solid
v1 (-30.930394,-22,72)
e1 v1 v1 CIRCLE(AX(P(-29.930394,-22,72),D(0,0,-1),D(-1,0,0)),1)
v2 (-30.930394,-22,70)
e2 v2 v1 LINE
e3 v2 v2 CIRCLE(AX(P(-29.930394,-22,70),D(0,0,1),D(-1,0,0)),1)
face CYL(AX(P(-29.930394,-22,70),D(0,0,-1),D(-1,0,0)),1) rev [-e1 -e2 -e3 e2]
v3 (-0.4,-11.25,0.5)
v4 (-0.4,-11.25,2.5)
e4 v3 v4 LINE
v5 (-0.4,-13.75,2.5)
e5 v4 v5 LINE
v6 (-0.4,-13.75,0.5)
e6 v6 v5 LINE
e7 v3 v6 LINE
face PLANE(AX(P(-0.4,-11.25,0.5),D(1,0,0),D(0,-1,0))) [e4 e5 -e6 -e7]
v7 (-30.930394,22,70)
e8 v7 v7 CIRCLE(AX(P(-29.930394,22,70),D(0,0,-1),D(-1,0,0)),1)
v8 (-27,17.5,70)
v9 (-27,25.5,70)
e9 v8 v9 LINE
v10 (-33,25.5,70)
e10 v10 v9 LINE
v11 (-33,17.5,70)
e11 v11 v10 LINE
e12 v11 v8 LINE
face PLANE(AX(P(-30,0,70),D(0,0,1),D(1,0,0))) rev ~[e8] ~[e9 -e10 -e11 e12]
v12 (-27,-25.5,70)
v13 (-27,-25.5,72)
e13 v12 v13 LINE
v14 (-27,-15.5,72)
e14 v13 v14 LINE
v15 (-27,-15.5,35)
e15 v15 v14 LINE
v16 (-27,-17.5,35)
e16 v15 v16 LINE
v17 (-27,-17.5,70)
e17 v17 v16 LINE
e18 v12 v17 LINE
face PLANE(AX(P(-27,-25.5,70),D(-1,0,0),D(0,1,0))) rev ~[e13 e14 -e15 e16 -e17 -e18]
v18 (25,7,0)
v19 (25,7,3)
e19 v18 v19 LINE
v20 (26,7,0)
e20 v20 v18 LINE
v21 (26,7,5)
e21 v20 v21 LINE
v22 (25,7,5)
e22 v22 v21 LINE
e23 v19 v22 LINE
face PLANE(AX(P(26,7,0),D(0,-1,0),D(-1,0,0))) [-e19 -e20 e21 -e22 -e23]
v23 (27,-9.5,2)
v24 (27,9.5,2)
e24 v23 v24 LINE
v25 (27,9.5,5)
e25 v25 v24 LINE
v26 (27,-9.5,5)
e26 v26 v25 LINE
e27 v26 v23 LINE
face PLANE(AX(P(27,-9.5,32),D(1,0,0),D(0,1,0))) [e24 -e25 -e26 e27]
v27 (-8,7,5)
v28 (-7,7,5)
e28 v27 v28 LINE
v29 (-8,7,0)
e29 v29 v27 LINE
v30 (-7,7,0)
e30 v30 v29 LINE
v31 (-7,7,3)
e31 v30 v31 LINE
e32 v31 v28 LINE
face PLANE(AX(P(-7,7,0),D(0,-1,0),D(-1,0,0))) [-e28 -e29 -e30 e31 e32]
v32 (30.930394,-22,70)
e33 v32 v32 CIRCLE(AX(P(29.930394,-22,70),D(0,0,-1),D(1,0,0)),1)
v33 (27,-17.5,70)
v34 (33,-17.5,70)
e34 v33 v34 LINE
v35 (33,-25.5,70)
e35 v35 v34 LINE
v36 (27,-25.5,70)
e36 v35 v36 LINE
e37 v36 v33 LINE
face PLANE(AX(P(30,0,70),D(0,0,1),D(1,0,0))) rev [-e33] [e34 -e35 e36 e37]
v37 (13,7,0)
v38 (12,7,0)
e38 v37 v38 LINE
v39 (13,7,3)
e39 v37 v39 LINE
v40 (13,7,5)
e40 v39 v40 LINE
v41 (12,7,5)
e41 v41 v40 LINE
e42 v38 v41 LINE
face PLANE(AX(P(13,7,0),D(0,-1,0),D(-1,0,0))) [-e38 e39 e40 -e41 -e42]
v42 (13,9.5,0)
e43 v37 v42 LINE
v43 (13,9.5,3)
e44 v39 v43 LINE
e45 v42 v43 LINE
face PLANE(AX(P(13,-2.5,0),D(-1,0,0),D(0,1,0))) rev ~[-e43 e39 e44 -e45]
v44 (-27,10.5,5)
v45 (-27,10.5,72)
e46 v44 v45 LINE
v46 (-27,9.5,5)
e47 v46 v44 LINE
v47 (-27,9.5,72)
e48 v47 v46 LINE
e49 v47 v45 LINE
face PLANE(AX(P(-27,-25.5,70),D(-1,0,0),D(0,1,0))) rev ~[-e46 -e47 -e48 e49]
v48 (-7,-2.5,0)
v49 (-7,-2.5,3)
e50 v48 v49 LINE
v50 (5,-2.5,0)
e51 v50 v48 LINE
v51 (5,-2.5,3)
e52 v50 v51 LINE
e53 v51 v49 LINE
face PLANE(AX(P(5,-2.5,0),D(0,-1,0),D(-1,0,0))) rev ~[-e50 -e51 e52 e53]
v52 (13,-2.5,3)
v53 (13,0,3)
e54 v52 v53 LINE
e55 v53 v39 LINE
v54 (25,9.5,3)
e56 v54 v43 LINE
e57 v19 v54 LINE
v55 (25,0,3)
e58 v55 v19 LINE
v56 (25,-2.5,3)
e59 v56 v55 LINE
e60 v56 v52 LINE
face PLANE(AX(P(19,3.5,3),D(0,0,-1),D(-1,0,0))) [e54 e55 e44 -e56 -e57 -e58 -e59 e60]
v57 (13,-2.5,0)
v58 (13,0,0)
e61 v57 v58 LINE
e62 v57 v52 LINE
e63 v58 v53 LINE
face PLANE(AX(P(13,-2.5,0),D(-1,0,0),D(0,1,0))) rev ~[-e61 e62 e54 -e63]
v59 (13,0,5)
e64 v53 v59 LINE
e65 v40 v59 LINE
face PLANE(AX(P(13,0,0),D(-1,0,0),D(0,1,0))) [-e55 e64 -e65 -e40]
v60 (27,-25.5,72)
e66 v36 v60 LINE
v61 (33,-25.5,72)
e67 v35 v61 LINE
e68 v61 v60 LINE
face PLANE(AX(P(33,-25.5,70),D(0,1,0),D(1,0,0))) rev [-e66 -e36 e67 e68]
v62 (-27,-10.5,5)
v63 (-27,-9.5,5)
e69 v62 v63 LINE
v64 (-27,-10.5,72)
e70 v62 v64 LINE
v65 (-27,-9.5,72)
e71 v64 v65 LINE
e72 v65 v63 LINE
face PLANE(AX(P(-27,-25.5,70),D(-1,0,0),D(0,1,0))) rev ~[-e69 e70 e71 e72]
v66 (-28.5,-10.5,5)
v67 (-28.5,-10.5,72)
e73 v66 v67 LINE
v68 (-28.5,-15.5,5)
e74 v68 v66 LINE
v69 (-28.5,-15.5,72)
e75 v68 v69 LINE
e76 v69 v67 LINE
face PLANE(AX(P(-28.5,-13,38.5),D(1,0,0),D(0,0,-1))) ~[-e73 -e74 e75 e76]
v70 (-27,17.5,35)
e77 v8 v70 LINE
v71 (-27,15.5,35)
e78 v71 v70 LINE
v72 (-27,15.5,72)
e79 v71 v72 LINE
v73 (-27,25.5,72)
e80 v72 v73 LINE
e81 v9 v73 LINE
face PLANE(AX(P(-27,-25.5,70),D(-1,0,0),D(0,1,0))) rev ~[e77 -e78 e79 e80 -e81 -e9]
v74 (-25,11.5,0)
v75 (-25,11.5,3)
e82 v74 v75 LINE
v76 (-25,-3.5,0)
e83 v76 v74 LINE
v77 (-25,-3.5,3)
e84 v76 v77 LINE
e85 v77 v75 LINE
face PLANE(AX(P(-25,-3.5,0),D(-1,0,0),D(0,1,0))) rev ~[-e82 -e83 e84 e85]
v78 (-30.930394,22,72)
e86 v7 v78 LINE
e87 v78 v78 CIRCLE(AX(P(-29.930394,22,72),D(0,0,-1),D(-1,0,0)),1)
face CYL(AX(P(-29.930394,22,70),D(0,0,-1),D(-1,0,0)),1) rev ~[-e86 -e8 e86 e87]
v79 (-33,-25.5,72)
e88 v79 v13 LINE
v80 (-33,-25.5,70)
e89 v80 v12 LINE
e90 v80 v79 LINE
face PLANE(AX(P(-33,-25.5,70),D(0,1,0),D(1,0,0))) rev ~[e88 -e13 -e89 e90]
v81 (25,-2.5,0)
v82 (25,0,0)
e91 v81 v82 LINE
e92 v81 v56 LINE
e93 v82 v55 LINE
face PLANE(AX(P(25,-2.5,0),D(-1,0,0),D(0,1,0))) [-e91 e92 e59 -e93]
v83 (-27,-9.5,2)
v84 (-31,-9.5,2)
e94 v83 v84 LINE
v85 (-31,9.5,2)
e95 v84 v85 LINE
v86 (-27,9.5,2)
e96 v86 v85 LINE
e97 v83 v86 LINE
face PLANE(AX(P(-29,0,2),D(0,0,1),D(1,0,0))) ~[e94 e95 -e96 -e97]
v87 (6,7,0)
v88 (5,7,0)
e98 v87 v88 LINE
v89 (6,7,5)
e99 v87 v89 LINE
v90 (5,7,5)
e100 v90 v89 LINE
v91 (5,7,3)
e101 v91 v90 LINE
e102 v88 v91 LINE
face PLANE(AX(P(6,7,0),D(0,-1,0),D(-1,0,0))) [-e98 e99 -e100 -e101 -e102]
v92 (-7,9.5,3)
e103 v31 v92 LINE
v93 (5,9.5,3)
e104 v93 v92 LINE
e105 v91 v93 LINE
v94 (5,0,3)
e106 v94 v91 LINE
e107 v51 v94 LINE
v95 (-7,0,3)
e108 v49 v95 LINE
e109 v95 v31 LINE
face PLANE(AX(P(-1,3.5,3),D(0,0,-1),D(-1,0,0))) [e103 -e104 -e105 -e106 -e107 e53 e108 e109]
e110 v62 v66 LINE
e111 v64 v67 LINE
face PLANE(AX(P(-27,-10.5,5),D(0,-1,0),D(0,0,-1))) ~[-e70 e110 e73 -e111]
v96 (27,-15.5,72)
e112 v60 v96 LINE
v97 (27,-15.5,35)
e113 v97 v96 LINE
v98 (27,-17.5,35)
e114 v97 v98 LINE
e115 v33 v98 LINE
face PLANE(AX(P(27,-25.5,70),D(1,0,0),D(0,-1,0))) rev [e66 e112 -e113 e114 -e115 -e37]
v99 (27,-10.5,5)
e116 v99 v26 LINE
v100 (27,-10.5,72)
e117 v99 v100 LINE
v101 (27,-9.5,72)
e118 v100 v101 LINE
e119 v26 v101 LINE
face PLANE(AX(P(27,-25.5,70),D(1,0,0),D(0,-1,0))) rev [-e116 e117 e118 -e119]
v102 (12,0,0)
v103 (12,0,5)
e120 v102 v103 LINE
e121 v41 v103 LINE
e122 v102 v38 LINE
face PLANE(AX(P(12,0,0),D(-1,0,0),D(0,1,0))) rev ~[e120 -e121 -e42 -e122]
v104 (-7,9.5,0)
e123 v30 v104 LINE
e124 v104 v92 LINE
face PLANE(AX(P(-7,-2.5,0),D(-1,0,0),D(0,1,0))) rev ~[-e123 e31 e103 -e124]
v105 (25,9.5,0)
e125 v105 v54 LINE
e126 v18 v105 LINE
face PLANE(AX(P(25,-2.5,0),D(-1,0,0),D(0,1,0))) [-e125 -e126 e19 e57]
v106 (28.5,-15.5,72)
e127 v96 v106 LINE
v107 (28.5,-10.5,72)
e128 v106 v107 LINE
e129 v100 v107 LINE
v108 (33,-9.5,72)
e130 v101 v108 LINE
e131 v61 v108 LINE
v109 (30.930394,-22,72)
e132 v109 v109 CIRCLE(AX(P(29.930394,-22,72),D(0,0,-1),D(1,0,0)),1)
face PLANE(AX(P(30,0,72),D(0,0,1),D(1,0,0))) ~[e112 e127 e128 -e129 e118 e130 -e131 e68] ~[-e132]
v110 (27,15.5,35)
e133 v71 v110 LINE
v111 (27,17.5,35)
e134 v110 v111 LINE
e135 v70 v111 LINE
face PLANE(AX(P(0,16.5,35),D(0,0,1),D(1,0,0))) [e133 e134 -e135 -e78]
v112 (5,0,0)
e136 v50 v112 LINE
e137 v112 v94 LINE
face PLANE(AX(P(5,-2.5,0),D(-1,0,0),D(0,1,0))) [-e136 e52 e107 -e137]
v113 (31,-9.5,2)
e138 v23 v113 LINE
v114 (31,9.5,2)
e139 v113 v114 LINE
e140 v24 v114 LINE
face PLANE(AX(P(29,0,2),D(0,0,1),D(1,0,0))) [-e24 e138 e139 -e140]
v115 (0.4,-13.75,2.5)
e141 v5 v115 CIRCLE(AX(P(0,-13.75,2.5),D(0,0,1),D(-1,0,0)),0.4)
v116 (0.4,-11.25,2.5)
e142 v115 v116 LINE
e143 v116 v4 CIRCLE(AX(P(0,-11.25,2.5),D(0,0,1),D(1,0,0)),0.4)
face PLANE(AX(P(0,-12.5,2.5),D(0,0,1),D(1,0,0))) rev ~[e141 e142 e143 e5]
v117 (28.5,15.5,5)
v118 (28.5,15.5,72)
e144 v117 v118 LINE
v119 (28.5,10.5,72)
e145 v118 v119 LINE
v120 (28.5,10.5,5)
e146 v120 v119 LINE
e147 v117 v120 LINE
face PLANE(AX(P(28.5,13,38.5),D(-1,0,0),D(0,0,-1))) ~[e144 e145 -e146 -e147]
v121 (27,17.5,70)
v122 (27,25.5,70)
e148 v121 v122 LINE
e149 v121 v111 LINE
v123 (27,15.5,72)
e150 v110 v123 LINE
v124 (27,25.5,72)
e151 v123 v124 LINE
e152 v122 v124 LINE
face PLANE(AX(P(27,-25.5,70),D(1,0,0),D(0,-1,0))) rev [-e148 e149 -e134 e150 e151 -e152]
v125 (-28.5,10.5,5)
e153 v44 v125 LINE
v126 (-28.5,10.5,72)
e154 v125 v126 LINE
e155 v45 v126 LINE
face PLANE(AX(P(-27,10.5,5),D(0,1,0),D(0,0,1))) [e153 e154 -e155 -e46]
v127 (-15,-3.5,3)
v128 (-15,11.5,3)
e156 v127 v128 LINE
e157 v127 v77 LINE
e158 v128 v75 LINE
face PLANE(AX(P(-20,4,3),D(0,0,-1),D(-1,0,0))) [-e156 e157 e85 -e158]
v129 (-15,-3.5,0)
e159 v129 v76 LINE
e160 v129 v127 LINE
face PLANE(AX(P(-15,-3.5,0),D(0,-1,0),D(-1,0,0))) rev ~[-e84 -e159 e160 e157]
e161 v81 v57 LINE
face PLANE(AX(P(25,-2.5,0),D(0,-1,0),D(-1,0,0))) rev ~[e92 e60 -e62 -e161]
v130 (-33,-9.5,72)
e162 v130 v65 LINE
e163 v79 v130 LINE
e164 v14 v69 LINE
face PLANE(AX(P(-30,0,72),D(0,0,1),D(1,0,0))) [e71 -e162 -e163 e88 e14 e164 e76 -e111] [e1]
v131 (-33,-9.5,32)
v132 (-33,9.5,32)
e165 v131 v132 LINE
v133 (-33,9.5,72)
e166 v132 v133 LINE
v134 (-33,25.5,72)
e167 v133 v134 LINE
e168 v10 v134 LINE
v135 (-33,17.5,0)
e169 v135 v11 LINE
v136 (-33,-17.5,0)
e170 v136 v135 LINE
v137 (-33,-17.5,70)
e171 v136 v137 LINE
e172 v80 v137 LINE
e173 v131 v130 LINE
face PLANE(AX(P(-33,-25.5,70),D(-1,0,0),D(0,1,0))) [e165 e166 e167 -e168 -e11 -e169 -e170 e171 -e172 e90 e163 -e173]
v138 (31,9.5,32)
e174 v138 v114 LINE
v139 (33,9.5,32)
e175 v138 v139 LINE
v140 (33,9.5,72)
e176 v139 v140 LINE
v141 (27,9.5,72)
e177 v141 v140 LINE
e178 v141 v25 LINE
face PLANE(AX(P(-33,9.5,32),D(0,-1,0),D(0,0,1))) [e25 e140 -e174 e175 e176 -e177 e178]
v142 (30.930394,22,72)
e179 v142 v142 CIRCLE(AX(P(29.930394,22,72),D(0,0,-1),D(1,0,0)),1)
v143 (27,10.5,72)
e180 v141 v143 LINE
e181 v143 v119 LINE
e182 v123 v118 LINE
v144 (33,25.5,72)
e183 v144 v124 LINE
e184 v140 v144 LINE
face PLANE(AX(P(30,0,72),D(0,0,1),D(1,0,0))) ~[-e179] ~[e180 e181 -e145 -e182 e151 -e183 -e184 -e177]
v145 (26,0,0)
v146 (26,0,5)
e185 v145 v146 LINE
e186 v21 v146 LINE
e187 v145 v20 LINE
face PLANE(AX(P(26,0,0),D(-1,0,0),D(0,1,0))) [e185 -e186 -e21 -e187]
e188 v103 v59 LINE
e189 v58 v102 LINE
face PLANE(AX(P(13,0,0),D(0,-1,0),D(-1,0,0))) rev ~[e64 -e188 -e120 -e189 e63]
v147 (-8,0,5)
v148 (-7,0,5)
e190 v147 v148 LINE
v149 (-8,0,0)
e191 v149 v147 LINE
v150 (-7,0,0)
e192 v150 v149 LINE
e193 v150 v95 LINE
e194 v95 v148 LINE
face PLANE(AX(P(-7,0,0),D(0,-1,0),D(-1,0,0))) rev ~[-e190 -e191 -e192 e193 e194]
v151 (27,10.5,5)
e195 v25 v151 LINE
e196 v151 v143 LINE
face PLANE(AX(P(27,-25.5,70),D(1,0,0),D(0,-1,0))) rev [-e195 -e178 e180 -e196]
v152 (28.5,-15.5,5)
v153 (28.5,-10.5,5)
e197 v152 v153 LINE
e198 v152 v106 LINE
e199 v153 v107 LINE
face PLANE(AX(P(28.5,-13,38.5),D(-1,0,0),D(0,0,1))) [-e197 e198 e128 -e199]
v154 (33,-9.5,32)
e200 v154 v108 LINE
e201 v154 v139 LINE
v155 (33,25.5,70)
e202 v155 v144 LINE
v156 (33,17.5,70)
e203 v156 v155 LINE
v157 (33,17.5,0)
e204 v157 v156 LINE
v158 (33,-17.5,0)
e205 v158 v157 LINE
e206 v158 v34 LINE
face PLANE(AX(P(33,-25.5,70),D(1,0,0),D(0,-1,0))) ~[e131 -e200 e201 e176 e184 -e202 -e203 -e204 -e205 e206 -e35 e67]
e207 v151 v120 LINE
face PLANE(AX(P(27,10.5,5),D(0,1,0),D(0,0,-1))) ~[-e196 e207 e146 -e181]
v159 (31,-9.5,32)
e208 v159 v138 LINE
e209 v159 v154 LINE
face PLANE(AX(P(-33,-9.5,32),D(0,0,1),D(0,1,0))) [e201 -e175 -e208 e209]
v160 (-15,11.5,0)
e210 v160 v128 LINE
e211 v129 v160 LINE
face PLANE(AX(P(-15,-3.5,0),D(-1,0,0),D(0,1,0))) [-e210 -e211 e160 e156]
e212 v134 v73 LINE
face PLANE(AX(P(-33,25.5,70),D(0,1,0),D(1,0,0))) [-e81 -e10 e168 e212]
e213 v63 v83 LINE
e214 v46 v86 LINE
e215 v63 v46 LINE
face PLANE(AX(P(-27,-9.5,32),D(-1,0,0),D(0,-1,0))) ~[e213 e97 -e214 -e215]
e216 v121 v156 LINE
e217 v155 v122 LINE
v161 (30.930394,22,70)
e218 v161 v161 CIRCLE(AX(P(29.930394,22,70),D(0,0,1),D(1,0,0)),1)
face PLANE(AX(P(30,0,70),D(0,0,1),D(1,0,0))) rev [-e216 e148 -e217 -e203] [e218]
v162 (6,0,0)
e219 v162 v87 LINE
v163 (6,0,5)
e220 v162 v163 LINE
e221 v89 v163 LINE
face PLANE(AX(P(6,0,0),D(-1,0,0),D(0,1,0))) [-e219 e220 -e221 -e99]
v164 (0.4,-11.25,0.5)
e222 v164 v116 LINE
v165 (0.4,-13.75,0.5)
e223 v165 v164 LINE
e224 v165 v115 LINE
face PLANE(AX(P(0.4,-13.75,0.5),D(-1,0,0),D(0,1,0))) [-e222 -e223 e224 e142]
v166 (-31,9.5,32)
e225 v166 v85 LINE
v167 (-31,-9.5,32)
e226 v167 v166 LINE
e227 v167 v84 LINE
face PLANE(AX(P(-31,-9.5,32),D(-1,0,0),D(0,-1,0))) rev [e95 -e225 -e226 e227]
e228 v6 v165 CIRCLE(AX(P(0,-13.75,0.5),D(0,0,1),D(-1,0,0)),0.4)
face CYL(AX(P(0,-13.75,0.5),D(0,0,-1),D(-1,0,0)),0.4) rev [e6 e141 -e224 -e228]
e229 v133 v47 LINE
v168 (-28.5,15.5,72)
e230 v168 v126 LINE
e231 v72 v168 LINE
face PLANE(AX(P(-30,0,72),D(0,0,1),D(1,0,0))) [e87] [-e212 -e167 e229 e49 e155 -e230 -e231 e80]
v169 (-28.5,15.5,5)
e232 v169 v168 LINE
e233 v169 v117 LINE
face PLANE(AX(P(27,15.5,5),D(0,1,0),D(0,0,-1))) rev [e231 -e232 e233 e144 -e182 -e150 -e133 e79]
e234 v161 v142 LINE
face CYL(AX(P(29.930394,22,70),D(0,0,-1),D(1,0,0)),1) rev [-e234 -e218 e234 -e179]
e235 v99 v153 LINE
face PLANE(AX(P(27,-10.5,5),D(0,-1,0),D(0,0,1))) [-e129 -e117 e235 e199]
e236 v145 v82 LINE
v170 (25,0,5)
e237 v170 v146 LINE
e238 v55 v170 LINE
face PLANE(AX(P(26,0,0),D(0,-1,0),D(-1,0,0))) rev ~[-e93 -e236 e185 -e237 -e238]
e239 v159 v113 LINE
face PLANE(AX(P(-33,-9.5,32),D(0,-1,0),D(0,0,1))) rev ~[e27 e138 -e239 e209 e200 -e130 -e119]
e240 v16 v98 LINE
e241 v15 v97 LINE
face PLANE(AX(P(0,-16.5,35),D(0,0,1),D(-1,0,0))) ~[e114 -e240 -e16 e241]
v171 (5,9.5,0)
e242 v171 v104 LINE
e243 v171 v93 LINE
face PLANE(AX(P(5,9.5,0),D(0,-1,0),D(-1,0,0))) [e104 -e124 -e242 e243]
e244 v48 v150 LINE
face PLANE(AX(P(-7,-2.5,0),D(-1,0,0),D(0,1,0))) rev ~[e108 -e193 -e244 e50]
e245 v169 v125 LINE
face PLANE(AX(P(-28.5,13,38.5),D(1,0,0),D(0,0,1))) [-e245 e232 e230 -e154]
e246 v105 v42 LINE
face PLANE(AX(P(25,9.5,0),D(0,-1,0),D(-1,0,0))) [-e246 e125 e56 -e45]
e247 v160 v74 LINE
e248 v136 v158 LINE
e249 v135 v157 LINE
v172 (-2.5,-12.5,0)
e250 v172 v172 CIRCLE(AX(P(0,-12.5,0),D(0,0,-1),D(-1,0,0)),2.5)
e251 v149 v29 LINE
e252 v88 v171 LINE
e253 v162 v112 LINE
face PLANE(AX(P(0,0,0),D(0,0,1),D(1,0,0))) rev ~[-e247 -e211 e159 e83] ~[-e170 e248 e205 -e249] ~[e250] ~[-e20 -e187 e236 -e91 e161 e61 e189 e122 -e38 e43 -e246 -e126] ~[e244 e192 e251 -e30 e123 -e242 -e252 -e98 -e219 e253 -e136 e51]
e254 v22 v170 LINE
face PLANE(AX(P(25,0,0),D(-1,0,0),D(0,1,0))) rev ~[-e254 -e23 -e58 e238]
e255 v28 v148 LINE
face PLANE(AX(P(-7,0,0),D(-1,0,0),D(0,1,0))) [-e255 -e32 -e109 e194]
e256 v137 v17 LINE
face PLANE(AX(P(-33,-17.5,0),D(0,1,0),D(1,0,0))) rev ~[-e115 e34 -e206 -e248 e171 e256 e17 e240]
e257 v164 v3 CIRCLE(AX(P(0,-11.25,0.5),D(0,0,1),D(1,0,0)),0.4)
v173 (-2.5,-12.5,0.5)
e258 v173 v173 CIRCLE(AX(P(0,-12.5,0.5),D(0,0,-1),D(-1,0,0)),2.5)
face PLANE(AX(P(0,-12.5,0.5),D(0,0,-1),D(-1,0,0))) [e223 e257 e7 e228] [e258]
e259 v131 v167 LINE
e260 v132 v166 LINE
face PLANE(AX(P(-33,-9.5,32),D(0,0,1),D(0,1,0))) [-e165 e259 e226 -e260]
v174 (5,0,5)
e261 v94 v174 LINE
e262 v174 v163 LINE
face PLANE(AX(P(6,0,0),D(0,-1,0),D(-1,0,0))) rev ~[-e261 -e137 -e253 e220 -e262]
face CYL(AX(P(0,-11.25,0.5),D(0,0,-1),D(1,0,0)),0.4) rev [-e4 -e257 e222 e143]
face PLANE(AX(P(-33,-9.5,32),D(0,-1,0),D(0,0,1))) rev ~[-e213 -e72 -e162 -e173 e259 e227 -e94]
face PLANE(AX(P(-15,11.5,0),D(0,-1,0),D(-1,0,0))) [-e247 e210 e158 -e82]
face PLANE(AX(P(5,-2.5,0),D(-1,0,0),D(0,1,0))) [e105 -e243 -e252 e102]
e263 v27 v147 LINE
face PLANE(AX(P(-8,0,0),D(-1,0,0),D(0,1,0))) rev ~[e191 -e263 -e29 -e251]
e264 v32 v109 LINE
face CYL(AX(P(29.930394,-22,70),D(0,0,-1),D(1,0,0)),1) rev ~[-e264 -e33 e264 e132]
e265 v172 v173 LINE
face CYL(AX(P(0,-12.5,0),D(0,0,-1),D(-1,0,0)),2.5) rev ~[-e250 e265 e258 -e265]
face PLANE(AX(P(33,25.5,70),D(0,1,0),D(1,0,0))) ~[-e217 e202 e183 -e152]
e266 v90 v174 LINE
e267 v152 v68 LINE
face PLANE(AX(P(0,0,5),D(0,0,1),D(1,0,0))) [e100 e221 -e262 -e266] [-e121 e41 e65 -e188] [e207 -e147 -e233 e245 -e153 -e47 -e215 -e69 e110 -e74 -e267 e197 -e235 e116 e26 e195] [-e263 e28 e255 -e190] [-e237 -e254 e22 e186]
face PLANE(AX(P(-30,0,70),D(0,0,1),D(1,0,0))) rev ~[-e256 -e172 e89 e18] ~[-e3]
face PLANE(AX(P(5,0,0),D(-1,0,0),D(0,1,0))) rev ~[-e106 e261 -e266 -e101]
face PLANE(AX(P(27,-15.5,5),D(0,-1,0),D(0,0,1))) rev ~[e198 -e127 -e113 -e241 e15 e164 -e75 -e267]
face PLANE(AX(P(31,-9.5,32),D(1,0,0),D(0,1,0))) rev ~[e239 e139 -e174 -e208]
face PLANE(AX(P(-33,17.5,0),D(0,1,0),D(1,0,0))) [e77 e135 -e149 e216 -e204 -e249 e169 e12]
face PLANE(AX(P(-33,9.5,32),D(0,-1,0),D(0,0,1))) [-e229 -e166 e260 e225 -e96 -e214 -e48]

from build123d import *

# Parameters (mm, degrees)
ESQUISSE1_W               = 66
ESQUISSE1_H               = 35
BOSS_EXTRU_1_DEPTH        = 70
ESQUISSE2_W               = 54
ESQUISSE2_H               = 35
ENL_V_MAT_EXTRU_2_DEPTH   = 65
ESQUISSE4_W               = 54
ESQUISSE4_H               = 2
BOSS_EXTRU_2_DEPTH        = 30
ESQUISSE5_W               = 6
ESQUISSE5_H               = 51
BOSS_EXTRU_3_DEPTH        = 2
ESQUISSE6_R               = 1
ENL_V_MAT_EXTRU_3_DEPTH   = 10
SYM_TRIE3_COPY_1_SKETCH_R = 1
SYM_TRIE3_COPY_1_DEPTH    = 10
ESQUISSE12_R              = 2.5
ENL_V_MAT_EXTRU_5_DEPTH   = 0.5
ENL_V_MAT_EXTRU_6_DEPTH   = 2
ESQUISSE15_W              = 12
ESQUISSE15_H              = 12
ESQUISSE15_W_2            = 10
ESQUISSE15_H_2            = 15
ENL_V_MAT_EXTRU_8_DEPTH   = 3
ESQUISSE17_W              = 40
ESQUISSE17_H              = 19
ENL_V_MAT_EXTRU_10_DEPTH  = 67
ESQUISSE18_W              = 4
ESQUISSE18_H              = 19
ENL_V_MAT_EXTRU_11_DEPTH  = 30
ESQUISSE20_W              = 67
ESQUISSE20_H              = 5
ENL_V_MAT_EXTRU_13_DEPTH  = 1.5
SYM_TRIE5_COPY_1_SKETCH_W = 67
SYM_TRIE5_COPY_1_SKETCH_H = 5
SYM_TRIE5_COPY_1_DEPTH    = 1.5
ESQUISSE22_W              = 1
ESQUISSE22_H              = 7
ENL_V_MAT_EXTRU_14_DEPTH  = 73


with BuildPart() as part:
    # Esquisse1 → Boss.-Extru.1 (new body)
    with BuildSketch(Plane.XY):
        Rectangle(ESQUISSE1_W, ESQUISSE1_H)
    extrude(amount=BOSS_EXTRU_1_DEPTH)

    # Esquisse2 → Enlèv. mat.-Extru.2 (cut)
    with BuildSketch(Plane.XY.offset(70)):
        Rectangle(ESQUISSE2_W, ESQUISSE2_H)
    extrude(amount=-ENL_V_MAT_EXTRU_2_DEPTH, mode=Mode.SUBTRACT)

    # Esquisse4 → Boss.-Extru.2 (add)
    with BuildSketch(Plane.XY.offset(5)):
        with Locations((0, 16.5)):
            Rectangle(ESQUISSE4_W, ESQUISSE4_H)
    boss_extru_2 = extrude(amount=BOSS_EXTRU_2_DEPTH)

    # Symétrie1: Boss.-Extru.2 across plane
    add(boss_extru_2.mirror(Plane.ZX))

    # Esquisse5 → Boss.-Extru.3 (add)
    with BuildSketch(Plane.XY.offset(70)):
        with Locations((-30, 0)):
            Rectangle(ESQUISSE5_W, ESQUISSE5_H)
    boss_extru_3 = extrude(amount=BOSS_EXTRU_3_DEPTH)

    # Esquisse6 → Enlèv. mat.-Extru.3 (cut)
    with BuildSketch(Plane(origin=(0, 0, 70), x_dir=(-1, 0, 0), z_dir=(0, 0, -1))):
        with Locations((29.930394318, 22)):
            Circle(ESQUISSE6_R)
    enl_v_mat_extru_3 = extrude(amount=-ENL_V_MAT_EXTRU_3_DEPTH, mode=Mode.SUBTRACT)

    # Symétrie2: Enlèv. mat.-Extru.3 across plane
    add(enl_v_mat_extru_3.mirror(Plane.ZX), mode=Mode.SUBTRACT)

    # Symétrie3: Boss.-Extru.3, Enlèv. mat.-Extru.3 across plane
    add(boss_extru_3.mirror(Plane(origin=(0, 0, 0), x_dir=(0, 0, 1), z_dir=(1, 0, 0))))
    add(enl_v_mat_extru_3.mirror(Plane(origin=(0, 0, 0), x_dir=(0, 0, 1), z_dir=(1, 0, 0))), mode=Mode.SUBTRACT)

    # Symétrie3 copy 1 sketch → Symétrie3 copy 1 (cut)
    with BuildSketch(Plane(origin=(0, 0, 70), x_dir=(1, 0, 0), z_dir=(0, 0, -1))):
        with Locations((29.930394318, 22)):
            Circle(SYM_TRIE3_COPY_1_SKETCH_R)
    extrude(amount=-SYM_TRIE3_COPY_1_DEPTH, mode=Mode.SUBTRACT)

    # Esquisse12 → Enlèv. mat.-Extru.5 (cut)
    with BuildSketch(Plane(origin=(0, 0, 0), x_dir=(-1, 0, 0), z_dir=(0, 0, -1))):
        with Locations((0, -12.5)):
            Circle(ESQUISSE12_R)
    extrude(amount=-ENL_V_MAT_EXTRU_5_DEPTH, mode=Mode.SUBTRACT)

    # Esquisse14 → Enlèv. mat.-Extru.6 (cut)
    with BuildSketch(Plane(origin=(0, 0, 0.5), x_dir=(-1, 0, 0), z_dir=(0, 0, -1))):
        with BuildLine():
            Line((0.4, -11.25), (0.4, -13.75))
            ThreePointArc((0.4, -13.75), (0, -14.15), (-0.4, -13.75))
            Line((-0.4, -13.75), (-0.4, -11.25))
            ThreePointArc((-0.4, -11.25), (0, -10.85), (0.4, -11.25))
        make_face()
    extrude(amount=-ENL_V_MAT_EXTRU_6_DEPTH, mode=Mode.SUBTRACT)

    # Esquisse15 → Enlèv. mat.-Extru.8 (cut)
    with BuildSketch(Plane(origin=(0, 0, 0), x_dir=(-1, 0, 0), z_dir=(0, 0, -1))):
        with Locations((1, 3.5)):
            Rectangle(ESQUISSE15_W, ESQUISSE15_H)
        with Locations((-19, 3.5)):
            Rectangle(ESQUISSE15_W, ESQUISSE15_H)
        with Locations((20, 4)):
            Rectangle(ESQUISSE15_W_2, ESQUISSE15_H_2)
    extrude(amount=-ENL_V_MAT_EXTRU_8_DEPTH, mode=Mode.SUBTRACT)

    # Esquisse17 → Enlèv. mat.-Extru.10 (cut, through all)
    with BuildSketch(Plane.ZY.offset(33)):
        with Locations((52, 0)):
            Rectangle(ESQUISSE17_W, ESQUISSE17_H)
    extrude(amount=-ENL_V_MAT_EXTRU_10_DEPTH, mode=Mode.SUBTRACT)

    # Esquisse18 → Enlèv. mat.-Extru.11 (cut)
    with BuildSketch(Plane.XY.offset(32)):
        with Locations((29, 0)):
            Rectangle(ESQUISSE18_W, ESQUISSE18_H)
    enl_v_mat_extru_11 = extrude(amount=-ENL_V_MAT_EXTRU_11_DEPTH, mode=Mode.SUBTRACT)

    # Esquisse20 → Enlèv. mat.-Extru.13 (cut)
    with BuildSketch(Plane.ZY.offset(-27)):
        with Locations((38.5, -13)):
            Rectangle(ESQUISSE20_W, ESQUISSE20_H)
    enl_v_mat_extru_13 = extrude(amount=-ENL_V_MAT_EXTRU_13_DEPTH, mode=Mode.SUBTRACT)

    # Symétrie4: Enlèv. mat.-Extru.13 across plane
    add(enl_v_mat_extru_13.mirror(Plane.ZX), mode=Mode.SUBTRACT)

    # Symétrie5: Enlèv. mat.-Extru.13, Enlèv. mat.-Extru.11 across plane
    add(enl_v_mat_extru_13.mirror(Plane(origin=(0, 0, 0), x_dir=(0, 0, 1), z_dir=(1, 0, 0))), mode=Mode.SUBTRACT)
    add(enl_v_mat_extru_11.mirror(Plane(origin=(0, 0, 0), x_dir=(0, 0, 1), z_dir=(1, 0, 0))), mode=Mode.SUBTRACT)

    # Symétrie5 copy 1 sketch → Symétrie5 copy 1 (cut)
    with BuildSketch(Plane(origin=(-27, 0, 0), x_dir=(0, 0, 1), z_dir=(1, 0, 0))):
        with Locations((38.5, -13)):
            Rectangle(SYM_TRIE5_COPY_1_SKETCH_W, SYM_TRIE5_COPY_1_SKETCH_H)
    extrude(amount=-SYM_TRIE5_COPY_1_DEPTH, mode=Mode.SUBTRACT)

    # Esquisse22 → Enlèv. mat.-Extru.14 (cut, through all)
    with BuildSketch(Plane(origin=(0, 0, 0), x_dir=(-1, 0, 0), z_dir=(0, 0, -1))):
        with Locations((-12.5, 3.5)):
            Rectangle(ESQUISSE22_W, ESQUISSE22_H)
        with Locations((-25.5, 3.5)):
            Rectangle(ESQUISSE22_W, ESQUISSE22_H)
        with Locations((-5.5, 3.5)):
            Rectangle(ESQUISSE22_W, ESQUISSE22_H)
        with Locations((7.5, 3.5)):
            Rectangle(ESQUISSE22_W, ESQUISSE22_H)
    extrude(amount=-ENL_V_MAT_EXTRU_14_DEPTH, mode=Mode.SUBTRACT)


solid = part.part
